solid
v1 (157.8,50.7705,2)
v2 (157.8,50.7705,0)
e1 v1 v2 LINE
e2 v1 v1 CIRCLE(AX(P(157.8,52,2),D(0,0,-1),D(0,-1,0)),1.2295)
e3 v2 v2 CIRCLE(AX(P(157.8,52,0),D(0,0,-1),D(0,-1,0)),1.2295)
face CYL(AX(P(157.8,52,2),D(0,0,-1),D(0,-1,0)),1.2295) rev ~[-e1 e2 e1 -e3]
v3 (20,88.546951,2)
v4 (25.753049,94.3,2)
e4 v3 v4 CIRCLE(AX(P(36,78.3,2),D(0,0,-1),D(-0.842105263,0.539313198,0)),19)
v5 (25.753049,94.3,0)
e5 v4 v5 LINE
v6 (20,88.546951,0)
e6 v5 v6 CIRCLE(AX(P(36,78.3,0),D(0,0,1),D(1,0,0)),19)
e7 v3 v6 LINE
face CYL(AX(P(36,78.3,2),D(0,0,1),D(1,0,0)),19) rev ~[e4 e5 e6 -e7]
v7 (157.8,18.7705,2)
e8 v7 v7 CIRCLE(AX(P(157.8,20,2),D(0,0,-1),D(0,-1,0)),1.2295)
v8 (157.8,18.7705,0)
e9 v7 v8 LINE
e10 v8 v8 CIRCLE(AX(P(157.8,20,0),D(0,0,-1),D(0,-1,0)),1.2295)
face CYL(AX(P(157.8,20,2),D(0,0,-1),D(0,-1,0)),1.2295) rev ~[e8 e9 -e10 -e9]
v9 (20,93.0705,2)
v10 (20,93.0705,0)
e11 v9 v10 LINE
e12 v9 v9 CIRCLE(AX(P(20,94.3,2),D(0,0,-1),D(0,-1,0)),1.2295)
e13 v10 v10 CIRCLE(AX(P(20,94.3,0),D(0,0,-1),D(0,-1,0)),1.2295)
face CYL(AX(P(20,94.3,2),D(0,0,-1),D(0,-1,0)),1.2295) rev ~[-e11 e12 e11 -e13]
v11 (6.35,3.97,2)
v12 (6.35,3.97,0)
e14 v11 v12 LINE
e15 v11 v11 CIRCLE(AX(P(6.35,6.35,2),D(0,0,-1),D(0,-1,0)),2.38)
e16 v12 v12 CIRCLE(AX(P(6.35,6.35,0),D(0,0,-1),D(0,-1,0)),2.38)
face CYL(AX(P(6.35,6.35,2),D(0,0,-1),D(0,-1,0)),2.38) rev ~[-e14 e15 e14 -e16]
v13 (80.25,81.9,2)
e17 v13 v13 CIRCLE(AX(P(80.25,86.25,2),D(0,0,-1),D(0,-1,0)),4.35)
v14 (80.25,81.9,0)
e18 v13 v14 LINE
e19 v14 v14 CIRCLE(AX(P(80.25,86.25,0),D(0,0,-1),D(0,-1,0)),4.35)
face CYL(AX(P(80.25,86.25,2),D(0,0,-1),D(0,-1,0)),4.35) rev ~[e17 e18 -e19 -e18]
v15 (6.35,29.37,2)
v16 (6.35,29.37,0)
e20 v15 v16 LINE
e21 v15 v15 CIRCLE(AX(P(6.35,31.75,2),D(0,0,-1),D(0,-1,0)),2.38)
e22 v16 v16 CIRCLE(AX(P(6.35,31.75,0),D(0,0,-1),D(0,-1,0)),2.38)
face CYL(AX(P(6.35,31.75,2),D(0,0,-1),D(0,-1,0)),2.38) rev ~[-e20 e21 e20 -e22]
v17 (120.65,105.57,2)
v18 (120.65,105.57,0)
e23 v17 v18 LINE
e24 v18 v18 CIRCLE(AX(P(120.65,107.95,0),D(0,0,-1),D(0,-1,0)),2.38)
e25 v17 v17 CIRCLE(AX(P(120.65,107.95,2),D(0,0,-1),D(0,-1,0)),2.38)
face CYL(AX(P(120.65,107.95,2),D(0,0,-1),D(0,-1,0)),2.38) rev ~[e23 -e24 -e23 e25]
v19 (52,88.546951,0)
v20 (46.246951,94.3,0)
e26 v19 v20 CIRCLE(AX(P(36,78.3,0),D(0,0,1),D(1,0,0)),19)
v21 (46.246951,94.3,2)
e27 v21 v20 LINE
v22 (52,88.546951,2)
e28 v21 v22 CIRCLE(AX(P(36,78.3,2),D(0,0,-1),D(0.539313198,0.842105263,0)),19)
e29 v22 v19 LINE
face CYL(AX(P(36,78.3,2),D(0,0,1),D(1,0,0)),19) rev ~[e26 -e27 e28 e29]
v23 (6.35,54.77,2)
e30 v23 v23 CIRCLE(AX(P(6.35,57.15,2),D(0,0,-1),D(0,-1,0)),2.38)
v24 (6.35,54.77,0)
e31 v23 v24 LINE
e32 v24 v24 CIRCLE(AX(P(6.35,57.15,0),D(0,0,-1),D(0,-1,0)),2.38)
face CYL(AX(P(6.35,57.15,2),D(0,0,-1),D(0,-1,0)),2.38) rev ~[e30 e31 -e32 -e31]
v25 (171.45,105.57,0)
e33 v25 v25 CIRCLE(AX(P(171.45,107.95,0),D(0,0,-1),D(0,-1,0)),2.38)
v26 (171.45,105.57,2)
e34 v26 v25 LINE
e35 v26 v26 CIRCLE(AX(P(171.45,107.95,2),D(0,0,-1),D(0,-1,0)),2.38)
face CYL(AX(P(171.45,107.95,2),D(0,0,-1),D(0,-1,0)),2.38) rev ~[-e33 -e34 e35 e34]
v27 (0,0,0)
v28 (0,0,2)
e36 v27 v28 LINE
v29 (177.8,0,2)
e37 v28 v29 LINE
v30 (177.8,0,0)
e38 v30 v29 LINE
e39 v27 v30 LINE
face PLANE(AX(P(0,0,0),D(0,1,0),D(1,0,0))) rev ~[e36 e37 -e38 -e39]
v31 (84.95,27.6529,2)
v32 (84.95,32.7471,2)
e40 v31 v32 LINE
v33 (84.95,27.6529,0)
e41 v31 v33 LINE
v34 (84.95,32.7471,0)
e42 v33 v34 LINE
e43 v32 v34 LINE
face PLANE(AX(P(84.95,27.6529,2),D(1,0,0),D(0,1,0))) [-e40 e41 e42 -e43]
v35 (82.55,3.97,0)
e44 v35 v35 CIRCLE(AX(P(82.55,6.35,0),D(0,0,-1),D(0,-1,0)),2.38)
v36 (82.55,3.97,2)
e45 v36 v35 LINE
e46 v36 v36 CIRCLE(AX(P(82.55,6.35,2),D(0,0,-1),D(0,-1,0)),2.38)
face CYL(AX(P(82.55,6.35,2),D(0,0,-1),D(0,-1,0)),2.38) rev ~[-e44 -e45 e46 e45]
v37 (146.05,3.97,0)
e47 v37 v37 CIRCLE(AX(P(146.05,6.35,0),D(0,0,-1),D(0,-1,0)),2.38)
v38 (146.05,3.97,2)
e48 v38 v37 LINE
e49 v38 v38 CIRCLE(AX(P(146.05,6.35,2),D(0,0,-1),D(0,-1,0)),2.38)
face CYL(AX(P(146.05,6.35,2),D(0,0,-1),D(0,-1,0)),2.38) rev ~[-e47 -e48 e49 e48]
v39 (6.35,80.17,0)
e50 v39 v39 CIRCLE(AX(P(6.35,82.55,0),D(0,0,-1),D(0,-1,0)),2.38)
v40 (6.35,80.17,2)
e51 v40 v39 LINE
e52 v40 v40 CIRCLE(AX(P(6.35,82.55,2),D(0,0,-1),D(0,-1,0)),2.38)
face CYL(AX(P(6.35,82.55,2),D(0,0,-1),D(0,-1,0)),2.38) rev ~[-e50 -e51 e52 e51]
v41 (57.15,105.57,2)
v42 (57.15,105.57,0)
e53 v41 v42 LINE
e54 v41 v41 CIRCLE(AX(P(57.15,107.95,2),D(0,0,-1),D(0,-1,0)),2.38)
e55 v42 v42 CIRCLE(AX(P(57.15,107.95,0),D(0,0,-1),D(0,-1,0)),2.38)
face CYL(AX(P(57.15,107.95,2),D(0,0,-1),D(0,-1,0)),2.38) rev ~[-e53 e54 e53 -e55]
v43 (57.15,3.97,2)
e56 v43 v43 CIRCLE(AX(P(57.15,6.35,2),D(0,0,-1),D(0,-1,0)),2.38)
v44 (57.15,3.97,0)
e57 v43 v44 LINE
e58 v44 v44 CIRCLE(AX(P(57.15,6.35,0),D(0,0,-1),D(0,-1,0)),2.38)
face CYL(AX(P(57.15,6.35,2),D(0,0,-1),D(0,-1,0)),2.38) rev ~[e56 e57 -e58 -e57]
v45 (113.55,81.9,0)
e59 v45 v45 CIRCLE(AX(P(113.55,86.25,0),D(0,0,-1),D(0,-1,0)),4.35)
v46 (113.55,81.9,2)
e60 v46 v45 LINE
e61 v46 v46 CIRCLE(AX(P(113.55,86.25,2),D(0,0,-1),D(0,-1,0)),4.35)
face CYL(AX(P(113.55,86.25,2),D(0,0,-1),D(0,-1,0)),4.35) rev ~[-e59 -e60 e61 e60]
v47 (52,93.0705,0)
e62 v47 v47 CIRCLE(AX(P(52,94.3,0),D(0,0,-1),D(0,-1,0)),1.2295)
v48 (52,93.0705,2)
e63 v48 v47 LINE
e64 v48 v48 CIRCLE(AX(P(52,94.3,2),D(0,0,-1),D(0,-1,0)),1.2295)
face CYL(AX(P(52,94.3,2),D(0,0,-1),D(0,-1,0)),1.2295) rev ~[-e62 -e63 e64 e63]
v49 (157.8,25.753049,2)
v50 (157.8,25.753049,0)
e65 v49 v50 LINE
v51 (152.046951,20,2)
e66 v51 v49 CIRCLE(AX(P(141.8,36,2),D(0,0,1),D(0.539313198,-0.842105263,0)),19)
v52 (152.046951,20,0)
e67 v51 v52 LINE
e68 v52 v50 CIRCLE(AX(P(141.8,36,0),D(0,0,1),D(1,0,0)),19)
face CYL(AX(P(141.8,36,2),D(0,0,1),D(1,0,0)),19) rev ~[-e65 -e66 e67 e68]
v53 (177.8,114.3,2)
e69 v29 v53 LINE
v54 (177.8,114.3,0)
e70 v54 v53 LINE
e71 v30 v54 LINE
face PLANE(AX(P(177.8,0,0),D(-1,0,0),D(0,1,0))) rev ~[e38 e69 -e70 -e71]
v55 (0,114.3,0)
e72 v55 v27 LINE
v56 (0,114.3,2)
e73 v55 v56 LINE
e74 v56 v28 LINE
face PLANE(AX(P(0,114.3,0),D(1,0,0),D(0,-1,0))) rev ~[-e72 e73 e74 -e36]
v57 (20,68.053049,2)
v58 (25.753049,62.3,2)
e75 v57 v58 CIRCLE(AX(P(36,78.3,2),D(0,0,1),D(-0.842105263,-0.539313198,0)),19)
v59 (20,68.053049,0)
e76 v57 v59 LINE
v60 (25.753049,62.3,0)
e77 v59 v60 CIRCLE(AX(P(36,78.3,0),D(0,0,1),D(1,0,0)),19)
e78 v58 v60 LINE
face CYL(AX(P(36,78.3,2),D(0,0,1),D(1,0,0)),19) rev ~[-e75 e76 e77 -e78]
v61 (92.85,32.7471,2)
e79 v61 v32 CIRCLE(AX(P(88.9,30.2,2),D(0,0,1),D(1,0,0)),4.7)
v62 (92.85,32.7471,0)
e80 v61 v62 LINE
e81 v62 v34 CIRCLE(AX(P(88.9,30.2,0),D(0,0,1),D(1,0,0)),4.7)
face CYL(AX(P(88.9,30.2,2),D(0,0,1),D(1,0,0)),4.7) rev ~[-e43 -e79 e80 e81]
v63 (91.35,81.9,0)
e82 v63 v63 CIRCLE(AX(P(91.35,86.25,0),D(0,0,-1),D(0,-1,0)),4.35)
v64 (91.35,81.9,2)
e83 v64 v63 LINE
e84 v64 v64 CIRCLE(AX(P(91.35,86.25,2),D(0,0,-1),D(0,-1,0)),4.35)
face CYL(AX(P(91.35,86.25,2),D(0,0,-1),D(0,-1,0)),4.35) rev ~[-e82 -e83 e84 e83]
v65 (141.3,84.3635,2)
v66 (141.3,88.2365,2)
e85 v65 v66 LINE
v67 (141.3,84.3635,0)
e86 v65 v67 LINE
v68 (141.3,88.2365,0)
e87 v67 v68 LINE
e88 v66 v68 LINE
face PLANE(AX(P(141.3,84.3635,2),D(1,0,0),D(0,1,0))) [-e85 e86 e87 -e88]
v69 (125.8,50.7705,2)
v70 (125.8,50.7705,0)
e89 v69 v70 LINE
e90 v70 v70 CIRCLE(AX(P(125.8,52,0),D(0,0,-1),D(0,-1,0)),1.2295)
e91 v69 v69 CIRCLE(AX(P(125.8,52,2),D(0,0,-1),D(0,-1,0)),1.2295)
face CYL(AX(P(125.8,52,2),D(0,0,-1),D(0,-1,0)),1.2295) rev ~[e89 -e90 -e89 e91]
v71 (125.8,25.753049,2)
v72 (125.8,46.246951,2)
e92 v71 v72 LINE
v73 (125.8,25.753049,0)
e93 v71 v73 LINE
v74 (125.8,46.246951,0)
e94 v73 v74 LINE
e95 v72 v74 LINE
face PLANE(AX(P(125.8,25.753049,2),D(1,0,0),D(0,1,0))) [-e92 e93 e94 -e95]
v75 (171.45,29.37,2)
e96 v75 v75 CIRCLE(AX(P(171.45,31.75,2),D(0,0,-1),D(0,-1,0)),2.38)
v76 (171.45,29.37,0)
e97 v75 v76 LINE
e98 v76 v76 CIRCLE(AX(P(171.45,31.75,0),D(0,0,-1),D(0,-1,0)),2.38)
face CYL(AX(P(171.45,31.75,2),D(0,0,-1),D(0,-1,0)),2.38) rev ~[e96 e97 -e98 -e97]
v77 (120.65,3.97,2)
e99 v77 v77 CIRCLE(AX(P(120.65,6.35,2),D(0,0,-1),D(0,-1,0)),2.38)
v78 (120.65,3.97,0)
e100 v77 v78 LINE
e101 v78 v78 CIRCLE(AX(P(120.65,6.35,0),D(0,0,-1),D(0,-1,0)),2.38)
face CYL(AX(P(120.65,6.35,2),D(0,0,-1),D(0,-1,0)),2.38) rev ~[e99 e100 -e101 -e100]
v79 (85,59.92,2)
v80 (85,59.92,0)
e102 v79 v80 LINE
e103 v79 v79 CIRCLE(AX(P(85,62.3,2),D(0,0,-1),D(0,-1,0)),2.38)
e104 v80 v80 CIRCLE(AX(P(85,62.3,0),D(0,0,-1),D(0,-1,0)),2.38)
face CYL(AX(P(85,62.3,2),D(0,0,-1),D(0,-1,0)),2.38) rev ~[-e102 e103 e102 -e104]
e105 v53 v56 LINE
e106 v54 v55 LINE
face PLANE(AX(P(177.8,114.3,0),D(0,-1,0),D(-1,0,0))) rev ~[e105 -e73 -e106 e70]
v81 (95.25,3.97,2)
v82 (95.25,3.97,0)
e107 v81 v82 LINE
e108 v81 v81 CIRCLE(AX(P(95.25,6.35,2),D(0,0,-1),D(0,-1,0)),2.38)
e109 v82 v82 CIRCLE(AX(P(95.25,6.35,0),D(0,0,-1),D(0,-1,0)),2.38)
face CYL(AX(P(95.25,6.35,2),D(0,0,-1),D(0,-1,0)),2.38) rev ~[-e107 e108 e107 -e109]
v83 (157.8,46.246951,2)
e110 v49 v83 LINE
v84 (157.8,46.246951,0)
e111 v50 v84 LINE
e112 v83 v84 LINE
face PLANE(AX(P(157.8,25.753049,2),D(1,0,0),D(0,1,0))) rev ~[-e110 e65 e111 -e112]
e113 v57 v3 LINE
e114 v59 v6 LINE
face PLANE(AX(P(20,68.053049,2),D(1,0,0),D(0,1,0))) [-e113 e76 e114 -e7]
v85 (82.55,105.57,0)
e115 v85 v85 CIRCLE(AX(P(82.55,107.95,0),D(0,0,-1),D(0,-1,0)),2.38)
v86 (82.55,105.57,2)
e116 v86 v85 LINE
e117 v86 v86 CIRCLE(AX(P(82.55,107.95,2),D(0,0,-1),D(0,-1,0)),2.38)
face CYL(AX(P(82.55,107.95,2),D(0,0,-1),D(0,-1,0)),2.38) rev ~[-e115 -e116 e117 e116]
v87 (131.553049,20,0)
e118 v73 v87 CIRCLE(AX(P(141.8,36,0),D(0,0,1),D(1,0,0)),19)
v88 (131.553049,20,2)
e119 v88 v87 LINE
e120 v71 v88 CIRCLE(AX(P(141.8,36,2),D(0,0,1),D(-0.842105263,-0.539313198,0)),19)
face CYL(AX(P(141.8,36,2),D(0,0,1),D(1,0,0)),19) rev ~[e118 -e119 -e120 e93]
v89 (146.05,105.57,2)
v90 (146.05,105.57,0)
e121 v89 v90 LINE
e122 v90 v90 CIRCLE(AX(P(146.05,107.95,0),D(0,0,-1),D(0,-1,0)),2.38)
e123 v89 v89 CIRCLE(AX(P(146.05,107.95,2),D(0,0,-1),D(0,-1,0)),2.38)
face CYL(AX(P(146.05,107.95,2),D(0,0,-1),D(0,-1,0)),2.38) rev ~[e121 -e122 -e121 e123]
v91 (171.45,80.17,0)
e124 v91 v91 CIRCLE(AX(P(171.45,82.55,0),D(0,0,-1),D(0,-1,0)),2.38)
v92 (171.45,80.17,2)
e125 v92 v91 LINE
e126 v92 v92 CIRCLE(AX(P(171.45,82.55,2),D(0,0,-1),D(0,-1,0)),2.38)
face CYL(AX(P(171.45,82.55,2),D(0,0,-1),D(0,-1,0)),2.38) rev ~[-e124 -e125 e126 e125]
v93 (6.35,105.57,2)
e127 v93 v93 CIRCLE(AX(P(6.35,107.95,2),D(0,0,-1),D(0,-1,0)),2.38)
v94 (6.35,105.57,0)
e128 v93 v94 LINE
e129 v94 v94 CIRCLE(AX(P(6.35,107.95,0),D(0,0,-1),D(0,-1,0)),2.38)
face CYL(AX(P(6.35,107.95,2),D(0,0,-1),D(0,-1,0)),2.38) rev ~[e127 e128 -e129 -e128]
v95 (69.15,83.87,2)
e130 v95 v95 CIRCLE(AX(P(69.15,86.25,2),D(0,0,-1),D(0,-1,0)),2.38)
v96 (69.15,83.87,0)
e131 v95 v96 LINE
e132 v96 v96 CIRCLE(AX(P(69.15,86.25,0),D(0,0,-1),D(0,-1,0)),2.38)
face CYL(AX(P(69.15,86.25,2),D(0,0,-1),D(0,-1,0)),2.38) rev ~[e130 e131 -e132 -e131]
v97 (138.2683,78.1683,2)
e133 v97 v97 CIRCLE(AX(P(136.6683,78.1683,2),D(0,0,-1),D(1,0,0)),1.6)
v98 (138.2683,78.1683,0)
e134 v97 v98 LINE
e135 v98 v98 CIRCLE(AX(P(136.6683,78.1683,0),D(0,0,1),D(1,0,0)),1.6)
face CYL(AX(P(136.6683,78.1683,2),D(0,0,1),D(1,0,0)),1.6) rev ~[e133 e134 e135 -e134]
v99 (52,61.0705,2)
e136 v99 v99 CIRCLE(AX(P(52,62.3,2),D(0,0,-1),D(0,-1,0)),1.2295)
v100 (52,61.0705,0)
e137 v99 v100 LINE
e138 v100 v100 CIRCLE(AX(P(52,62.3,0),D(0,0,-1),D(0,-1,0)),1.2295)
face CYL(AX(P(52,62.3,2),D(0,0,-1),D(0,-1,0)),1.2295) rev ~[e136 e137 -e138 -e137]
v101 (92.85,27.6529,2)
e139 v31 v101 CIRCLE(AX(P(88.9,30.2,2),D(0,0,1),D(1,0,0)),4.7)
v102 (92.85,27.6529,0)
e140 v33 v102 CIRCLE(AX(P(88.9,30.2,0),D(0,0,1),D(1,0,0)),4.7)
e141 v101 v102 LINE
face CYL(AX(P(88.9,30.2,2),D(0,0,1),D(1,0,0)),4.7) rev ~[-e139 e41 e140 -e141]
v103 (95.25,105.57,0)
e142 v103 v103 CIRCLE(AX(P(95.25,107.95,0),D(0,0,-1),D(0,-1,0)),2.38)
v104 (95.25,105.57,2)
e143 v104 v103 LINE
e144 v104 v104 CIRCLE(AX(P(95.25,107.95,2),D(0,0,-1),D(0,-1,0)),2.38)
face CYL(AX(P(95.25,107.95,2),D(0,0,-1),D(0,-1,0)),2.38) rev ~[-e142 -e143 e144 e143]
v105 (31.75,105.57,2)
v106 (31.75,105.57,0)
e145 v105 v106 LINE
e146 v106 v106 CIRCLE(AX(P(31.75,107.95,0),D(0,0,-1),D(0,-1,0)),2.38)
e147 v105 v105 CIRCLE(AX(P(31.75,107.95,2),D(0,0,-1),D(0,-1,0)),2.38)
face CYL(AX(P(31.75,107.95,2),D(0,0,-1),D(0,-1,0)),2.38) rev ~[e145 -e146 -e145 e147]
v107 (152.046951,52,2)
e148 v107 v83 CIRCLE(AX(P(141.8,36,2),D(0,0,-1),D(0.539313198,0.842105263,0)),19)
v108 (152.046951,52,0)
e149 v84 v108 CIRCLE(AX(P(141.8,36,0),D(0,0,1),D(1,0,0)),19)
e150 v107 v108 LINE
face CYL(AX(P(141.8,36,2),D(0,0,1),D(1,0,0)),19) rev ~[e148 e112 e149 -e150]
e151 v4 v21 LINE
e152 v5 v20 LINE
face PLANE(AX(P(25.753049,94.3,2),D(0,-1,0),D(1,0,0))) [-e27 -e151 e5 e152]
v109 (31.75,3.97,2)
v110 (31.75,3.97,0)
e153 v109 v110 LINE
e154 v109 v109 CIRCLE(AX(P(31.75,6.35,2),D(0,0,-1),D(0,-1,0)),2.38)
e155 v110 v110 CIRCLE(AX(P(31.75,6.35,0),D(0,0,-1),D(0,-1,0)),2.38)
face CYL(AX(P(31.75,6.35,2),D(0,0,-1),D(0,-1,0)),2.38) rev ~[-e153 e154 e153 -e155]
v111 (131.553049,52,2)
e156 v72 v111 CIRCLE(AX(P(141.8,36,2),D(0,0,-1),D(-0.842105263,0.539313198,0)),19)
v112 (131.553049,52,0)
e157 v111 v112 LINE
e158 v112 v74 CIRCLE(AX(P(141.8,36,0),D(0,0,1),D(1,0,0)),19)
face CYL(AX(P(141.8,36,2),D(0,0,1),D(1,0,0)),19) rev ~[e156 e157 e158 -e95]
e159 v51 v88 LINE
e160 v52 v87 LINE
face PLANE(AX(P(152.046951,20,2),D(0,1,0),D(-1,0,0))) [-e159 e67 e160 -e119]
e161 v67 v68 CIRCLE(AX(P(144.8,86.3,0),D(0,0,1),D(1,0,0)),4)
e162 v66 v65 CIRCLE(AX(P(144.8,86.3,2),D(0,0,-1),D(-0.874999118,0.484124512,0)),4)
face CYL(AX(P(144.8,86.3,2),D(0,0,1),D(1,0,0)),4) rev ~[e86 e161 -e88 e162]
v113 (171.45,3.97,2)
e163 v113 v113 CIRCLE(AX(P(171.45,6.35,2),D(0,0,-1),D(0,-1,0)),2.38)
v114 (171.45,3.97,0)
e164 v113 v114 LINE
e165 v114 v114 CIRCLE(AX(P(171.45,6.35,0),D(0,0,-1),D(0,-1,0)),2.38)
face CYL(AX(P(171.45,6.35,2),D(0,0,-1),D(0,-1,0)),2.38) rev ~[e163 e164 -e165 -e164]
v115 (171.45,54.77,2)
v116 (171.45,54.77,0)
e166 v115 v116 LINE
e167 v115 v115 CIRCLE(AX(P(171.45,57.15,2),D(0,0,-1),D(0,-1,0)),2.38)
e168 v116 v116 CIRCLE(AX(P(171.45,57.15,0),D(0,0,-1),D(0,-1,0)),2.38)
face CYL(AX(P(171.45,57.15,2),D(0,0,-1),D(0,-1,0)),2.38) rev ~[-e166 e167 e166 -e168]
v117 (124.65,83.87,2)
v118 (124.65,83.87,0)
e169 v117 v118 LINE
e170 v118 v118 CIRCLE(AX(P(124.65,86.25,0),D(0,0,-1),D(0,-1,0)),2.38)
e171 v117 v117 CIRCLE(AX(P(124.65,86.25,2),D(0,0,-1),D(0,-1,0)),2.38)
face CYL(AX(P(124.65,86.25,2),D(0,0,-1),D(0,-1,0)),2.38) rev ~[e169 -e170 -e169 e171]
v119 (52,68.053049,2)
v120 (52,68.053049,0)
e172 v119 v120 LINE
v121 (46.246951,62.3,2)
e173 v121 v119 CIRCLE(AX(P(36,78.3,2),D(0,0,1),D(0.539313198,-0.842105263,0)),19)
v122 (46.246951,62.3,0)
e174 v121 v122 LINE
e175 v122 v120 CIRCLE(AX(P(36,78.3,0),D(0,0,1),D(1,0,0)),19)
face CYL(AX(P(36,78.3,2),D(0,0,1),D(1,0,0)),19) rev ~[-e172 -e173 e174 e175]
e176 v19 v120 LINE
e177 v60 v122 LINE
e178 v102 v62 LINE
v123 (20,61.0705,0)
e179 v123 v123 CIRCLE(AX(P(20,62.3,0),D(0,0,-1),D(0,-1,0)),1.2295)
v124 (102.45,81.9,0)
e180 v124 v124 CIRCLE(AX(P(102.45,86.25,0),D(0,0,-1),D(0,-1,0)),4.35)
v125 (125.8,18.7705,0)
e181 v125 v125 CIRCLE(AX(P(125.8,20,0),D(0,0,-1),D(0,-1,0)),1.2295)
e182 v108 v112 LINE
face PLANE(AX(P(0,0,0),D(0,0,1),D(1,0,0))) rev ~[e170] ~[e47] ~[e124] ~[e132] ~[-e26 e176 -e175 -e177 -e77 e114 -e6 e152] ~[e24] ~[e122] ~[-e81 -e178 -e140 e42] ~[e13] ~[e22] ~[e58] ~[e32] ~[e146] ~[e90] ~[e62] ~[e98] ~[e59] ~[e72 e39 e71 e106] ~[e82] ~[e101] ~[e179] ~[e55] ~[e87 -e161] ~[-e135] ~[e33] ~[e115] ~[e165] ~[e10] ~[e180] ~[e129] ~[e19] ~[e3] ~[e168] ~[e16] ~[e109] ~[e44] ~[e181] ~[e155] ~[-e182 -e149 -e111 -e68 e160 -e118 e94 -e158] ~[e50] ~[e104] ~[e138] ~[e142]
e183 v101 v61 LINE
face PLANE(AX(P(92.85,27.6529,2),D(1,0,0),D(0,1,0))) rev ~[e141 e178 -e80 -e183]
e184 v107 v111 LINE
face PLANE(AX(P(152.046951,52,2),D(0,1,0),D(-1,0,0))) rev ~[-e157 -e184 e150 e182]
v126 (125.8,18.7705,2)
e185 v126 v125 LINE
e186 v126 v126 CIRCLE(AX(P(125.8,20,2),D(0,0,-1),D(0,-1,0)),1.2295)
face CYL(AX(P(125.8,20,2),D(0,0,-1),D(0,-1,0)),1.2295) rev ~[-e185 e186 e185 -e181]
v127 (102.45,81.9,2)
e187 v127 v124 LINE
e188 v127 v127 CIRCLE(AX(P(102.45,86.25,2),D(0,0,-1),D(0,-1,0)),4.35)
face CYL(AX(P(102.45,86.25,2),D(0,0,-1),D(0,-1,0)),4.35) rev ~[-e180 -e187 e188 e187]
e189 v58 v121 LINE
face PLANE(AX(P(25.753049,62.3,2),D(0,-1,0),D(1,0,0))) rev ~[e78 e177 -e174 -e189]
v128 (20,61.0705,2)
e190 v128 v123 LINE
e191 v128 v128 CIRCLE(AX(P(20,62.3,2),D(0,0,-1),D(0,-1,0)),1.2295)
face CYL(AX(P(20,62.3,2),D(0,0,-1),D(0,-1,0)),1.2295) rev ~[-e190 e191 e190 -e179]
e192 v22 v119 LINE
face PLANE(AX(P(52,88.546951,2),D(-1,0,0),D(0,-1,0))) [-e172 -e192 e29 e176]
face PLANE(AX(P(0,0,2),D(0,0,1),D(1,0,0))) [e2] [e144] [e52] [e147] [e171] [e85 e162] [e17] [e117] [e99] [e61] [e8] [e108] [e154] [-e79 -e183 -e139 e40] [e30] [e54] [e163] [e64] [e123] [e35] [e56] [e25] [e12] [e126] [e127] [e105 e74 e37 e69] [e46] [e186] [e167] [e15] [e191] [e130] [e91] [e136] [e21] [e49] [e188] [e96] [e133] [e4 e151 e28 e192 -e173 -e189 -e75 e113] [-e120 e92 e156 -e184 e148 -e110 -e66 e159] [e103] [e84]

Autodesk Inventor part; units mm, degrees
ref_plane "YZ Plane" through (0, 0, 0) normal (1, 0, 0) x (0, 1, 0)
ref_plane "XZ Plane" through (0, 0, 0) normal (0, 1, 0) x (-1, 0, 0)
ref_plane "XY Plane" through (0, 0, 0) normal (0, 0, 1) x (1, 0, 0)
sketch "Sketch1" plane through (0, 0, 0) normal (0, 0, 1) x (1, 0, 0)
  line L0 (0, 0) -> (177.8, 0)
  line L1 (177.8, 0) -> (177.8, 114.3)
  line L2 (177.8, 114.3) -> (0, 114.3)
  line L3 (0, 114.3) -> (0, 0)
  dimension "d0" = 177.8
  dimension "d1" = 114.3
extrude "Extrusion1" add sketch "Sketch1" along normal blind 2
sketch "Sketch2" plane through (0, 0, 2) normal (0, 0, 1) x (1, 0, 0)
  line L0 (0, 114.3) -> (0, 0) projected
  line L1 (177.8, 114.3) -> (0, 114.3) projected
  line L2 (177.8, 0) -> (177.8, 114.3) projected
  point P0 (6.35, 107.95)
  point P1 (6.35, 82.55)
  point P2 (6.35, 57.15)
  point P3 (6.35, 31.75)
  point P4 (6.35, 6.35)
  point P5 (31.75, 6.35)
  point P6 (57.15, 6.35)
  point P7 (82.55, 6.35)
  point P8 (95.25, 6.35)
  point P9 (146.05, 6.35)
  point P10 (120.65, 6.35)
  point P11 (171.45, 6.35)
  point P12 (171.45, 31.75)
  point P13 (171.45, 57.15)
  point P14 (171.45, 82.55)
  point P15 (171.45, 107.95)
  point P16 (120.65, 107.95)
  point P17 (146.05, 107.95)
  point P18 (95.25, 107.95)
  point P19 (82.55, 107.95)
  point P20 (57.15, 107.95)
  point P21 (31.75, 107.95)
  dimension "d4" = 25.4
  dimension "d5" = 6.35
  dimension "d7" = 6.35
  dimension "d8" = 25.4
  dimension "d9" = 25.4
  dimension "d10" = 25.4
  dimension "d11" = 25.4
  dimension "d12" = 25.4
  dimension "d13" = 25.4
  dimension "d14" = 6.35
  dimension "d15" = 25.4
  dimension "d16" = 25.4
  dimension "d17" = 25.4
hole "Hole1" at (6.35, 107.95, 2) at (6.35, 82.55, 2) at (6.35, 57.15, 2) at (6.35, 31.75, 2) at (6.35, 6.35, 2) at (31.75, 6.35, 2) at (57.15, 6.35, 2) at (82.55, 6.35, 2) at (95.25, 6.35, 2) at (146.05, 6.35, 2) at (120.65, 6.35, 2) at (171.45, 6.35, 2) at (171.45, 31.75, 2) at (171.45, 57.15, 2) at (171.45, 82.55, 2) at (171.45, 107.95, 2) at (120.65, 107.95, 2) at (146.05, 107.95, 2) at (95.25, 107.95, 2) at (82.55, 107.95, 2) at (57.15, 107.95, 2) at (31.75, 107.95, 2) direction (0, 0, -1) diameter 4.76 end through all
sketch "Sketch3" plane through (0, 0, 2) normal (0, 0, 1) x (1, 0, 0)
  line L0 (177.8, 114.3) -> (0, 114.3) projected
  line L1 (88.9, 114.3) -> (88.9, 0) construction
  line L2 (0, 0) -> (177.8, 0) projected
  point P0 (91.35, 86.25)
  point P1 (102.45, 86.25)
  point P2 (113.55, 86.25)
  point P3 (80.25, 86.25)
  point P4 (69.15, 86.25)
  point P5 (124.65, 86.25)
  dimension "d25" = 28.05
  dimension "d26" = 13.55
  dimension "d27" = 11.1
  dimension "d28" = 11.1
  dimension "d29" = 11.1
  dimension "d37" = 11.1
  dimension "d38" = 11.1
hole "Hole2" at (91.35, 86.25, 2) at (102.45, 86.25, 2) at (113.55, 86.25, 2) at (80.25, 86.25, 2) direction (0, 0, -1) diameter 8.7 end through all
hole "Hole3" at (124.65, 86.25, 2) at (69.15, 86.25, 2) direction (0, 0, -1) diameter 4.76 end through all
sketch "Sketch5" plane through (0, 0, 2) normal (0, 0, 1) x (1, 0, 0)
  line L0 (177.8, 114.3) -> (0, 114.3) projected
  line L1 (88.9, 114.3) -> (88.9, 0) construction
  circle A0 centre (88.9, 30.2) radius 4.7
  line L2 (84.95, 27.6529) -> (84.95, 32.7471)
  line L3 (92.85, 27.6529) -> (92.85, 32.7471)
  line L4 (0, 0) -> (177.8, 0) projected
  point P0 (88.9, 0)
  dimension "d46" = 9.4
  dimension "d47" = 7.9
  dimension "d48" = 3.95
  dimension "d49" = 30.2
extrude "Extrusion2" cut sketch "Sketch5" against normal through all contours L3 A0 L2
sketch "Sketch6" plane through (0, 0, 2) normal (0, 0, 1) x (1, 0, 0)
  circle A0 centre (144.8, 86.3) radius 4
  line L0 (177.8, 114.3) -> (0, 114.3) projected
  line L1 (177.8, 0) -> (177.8, 114.3) projected
  line L2 (141.3, 84.3635) -> (141.3, 88.2365)
  line L3 (144.8, 86.3) -> (136.6683, 78.1683)
  line L4 (144.8, 86.3) -> (144.8, 114.3)
  circle A1 centre (136.6683, 78.1683) radius 1.6
  point P0 (0, 0)
  dimension "d52" = 28
  dimension "d53" = 33
  dimension "d54" = 8
  dimension "d55" = 7.5
  dimension "d58" = 135
  dimension "d59" = 11.5
  dimension "d60" = 3.2
extrude "Extrusion3" cut sketch "Sketch6" against normal through all contours A1 | A0 L4 L3 L2 | A0 L3 L4
sketch "Sketch7" plane through (0, 0, 2) normal (0, 0, 1) x (1, 0, 0)
  line L0 (177.8, 0) -> (177.8, 114.3) projected
  line L1 (0, 0) -> (177.8, 0) projected
  point P0 (125.8, 52)
  point P1 (157.8, 52)
  point P2 (157.8, 20)
  point P3 (125.8, 20)
  dimension "d61" = 20
  dimension "d62" = 32
  dimension "d63" = 32
  dimension "d64" = 20
hole "Hole4" at (125.8, 52, 2) at (157.8, 52, 2) at (157.8, 20, 2) at (125.8, 20, 2) direction (0, 0, -1) diameter 2.459 end through all thread size "M3x0.5" class "6H" standard "ANSI Metric M Profile"
sketch "Sketch8" plane through (0, 0, 2) normal (0, 0, 1) x (1, 0, 0)
  line L0 (177.8, 114.3) -> (0, 114.3) projected
  line L1 (0, 114.3) -> (0, 0) projected
  point P0 (20, 94.3)
  point P1 (52, 94.3)
  point P2 (52, 62.3)
  point P3 (20, 62.3)
  dimension "d72" = 32
  dimension "d73" = 32
  dimension "d74" = 20
  dimension "d75" = 20
hole "Hole5" at (20, 94.3, 2) at (52, 94.3, 2) at (52, 62.3, 2) at (20, 62.3, 2) direction (0, 0, -1) diameter 2.459 end through all thread size "M3x0.5" class "6H" standard "ANSI Metric M Profile"
sketch "Sketch9" plane through (0, 0, 2) normal (0, 0, 1) x (1, 0, 0)
  line L0 (0, 114.3) -> (0, 0) projected
  line L1 (177.8, 114.3) -> (0, 114.3) projected
  point P0 (85, 62.3)
  dimension "d83" = 85
  dimension "d84" = 52
hole "Hole6" at (85, 62.3, 2) direction (0, 0, -1) diameter 4.76 end through all
sketch "Sketch10" plane through (0, 0, 2) normal (0, 0, 1) x (1, 0, 0)
  circle A0 centre (20, 94.3) radius 1.2295 projected
  circle A1 centre (52, 94.3) radius 1.2295 projected
  circle A2 centre (52, 62.3) radius 1.2295 projected
  line L0 (20, 94.3) -> (52, 62.3)
  circle A3 centre (20, 62.3) radius 1.2295 projected
  line L1 (20, 62.3) -> (52, 94.3)
  circle A4 centre (36, 78.3) radius 19
  line L2 (20, 62.3) -> (20, 94.3)
  line L3 (20, 94.3) -> (52, 94.3)
  line L4 (52, 94.3) -> (52, 62.3)
  line L5 (20, 62.3) -> (52, 62.3)
  circle A5 centre (125.8, 52) radius 1.2295 projected
  circle A6 centre (157.8, 20) radius 1.2295 projected
  line L6 (125.8, 52) -> (157.8, 20)
  line L7 (157.8, 20) -> (157.8, 52)
  line L8 (157.8, 52) -> (125.8, 52)
  circle A7 centre (125.8, 20) radius 1.2295 projected
  line L9 (125.8, 20) -> (125.8, 52)
  line L10 (125.8, 20) -> (157.8, 52)
  line L11 (157.8, 20) -> (125.8, 20)
  circle A8 centre (141.8, 36) radius 19
  point P0 (0, 0)
  point P1 (125.8, 46.247)
  point P2 (125.8, 25.753)
  point P3 (131.553, 20)
  point P4 (152.047, 20)
  point P5 (157.8, 25.753)
  point P6 (157.8, 46.247)
  point P7 (152.047, 52)
  point P8 (131.553, 52)
  point P9 (20, 88.547)
  point P10 (20, 68.053)
  point P11 (25.753, 62.3)
  point P12 (46.247, 62.3)
  point P13 (52, 68.053)
  point P14 (52, 88.547)
  point P15 (46.247, 94.3)
  point P16 (25.753, 94.3)
  dimension "d92" = 38
  dimension "d93" = 38
extrude "Extrusion4" cut sketch "Sketch10" against normal blind 10 contours L3 A4 L1 L0 | A4 L0 L1 L2 | L1 A4 L4 L0 | L0 A4 L5 L1 | L8 A8 L10 L6 | A8 L6 L10 L9 | L10 A8 L7 L6 | L6 A8 L11 L10
properties part number "NRDZ_Fan_plate"
